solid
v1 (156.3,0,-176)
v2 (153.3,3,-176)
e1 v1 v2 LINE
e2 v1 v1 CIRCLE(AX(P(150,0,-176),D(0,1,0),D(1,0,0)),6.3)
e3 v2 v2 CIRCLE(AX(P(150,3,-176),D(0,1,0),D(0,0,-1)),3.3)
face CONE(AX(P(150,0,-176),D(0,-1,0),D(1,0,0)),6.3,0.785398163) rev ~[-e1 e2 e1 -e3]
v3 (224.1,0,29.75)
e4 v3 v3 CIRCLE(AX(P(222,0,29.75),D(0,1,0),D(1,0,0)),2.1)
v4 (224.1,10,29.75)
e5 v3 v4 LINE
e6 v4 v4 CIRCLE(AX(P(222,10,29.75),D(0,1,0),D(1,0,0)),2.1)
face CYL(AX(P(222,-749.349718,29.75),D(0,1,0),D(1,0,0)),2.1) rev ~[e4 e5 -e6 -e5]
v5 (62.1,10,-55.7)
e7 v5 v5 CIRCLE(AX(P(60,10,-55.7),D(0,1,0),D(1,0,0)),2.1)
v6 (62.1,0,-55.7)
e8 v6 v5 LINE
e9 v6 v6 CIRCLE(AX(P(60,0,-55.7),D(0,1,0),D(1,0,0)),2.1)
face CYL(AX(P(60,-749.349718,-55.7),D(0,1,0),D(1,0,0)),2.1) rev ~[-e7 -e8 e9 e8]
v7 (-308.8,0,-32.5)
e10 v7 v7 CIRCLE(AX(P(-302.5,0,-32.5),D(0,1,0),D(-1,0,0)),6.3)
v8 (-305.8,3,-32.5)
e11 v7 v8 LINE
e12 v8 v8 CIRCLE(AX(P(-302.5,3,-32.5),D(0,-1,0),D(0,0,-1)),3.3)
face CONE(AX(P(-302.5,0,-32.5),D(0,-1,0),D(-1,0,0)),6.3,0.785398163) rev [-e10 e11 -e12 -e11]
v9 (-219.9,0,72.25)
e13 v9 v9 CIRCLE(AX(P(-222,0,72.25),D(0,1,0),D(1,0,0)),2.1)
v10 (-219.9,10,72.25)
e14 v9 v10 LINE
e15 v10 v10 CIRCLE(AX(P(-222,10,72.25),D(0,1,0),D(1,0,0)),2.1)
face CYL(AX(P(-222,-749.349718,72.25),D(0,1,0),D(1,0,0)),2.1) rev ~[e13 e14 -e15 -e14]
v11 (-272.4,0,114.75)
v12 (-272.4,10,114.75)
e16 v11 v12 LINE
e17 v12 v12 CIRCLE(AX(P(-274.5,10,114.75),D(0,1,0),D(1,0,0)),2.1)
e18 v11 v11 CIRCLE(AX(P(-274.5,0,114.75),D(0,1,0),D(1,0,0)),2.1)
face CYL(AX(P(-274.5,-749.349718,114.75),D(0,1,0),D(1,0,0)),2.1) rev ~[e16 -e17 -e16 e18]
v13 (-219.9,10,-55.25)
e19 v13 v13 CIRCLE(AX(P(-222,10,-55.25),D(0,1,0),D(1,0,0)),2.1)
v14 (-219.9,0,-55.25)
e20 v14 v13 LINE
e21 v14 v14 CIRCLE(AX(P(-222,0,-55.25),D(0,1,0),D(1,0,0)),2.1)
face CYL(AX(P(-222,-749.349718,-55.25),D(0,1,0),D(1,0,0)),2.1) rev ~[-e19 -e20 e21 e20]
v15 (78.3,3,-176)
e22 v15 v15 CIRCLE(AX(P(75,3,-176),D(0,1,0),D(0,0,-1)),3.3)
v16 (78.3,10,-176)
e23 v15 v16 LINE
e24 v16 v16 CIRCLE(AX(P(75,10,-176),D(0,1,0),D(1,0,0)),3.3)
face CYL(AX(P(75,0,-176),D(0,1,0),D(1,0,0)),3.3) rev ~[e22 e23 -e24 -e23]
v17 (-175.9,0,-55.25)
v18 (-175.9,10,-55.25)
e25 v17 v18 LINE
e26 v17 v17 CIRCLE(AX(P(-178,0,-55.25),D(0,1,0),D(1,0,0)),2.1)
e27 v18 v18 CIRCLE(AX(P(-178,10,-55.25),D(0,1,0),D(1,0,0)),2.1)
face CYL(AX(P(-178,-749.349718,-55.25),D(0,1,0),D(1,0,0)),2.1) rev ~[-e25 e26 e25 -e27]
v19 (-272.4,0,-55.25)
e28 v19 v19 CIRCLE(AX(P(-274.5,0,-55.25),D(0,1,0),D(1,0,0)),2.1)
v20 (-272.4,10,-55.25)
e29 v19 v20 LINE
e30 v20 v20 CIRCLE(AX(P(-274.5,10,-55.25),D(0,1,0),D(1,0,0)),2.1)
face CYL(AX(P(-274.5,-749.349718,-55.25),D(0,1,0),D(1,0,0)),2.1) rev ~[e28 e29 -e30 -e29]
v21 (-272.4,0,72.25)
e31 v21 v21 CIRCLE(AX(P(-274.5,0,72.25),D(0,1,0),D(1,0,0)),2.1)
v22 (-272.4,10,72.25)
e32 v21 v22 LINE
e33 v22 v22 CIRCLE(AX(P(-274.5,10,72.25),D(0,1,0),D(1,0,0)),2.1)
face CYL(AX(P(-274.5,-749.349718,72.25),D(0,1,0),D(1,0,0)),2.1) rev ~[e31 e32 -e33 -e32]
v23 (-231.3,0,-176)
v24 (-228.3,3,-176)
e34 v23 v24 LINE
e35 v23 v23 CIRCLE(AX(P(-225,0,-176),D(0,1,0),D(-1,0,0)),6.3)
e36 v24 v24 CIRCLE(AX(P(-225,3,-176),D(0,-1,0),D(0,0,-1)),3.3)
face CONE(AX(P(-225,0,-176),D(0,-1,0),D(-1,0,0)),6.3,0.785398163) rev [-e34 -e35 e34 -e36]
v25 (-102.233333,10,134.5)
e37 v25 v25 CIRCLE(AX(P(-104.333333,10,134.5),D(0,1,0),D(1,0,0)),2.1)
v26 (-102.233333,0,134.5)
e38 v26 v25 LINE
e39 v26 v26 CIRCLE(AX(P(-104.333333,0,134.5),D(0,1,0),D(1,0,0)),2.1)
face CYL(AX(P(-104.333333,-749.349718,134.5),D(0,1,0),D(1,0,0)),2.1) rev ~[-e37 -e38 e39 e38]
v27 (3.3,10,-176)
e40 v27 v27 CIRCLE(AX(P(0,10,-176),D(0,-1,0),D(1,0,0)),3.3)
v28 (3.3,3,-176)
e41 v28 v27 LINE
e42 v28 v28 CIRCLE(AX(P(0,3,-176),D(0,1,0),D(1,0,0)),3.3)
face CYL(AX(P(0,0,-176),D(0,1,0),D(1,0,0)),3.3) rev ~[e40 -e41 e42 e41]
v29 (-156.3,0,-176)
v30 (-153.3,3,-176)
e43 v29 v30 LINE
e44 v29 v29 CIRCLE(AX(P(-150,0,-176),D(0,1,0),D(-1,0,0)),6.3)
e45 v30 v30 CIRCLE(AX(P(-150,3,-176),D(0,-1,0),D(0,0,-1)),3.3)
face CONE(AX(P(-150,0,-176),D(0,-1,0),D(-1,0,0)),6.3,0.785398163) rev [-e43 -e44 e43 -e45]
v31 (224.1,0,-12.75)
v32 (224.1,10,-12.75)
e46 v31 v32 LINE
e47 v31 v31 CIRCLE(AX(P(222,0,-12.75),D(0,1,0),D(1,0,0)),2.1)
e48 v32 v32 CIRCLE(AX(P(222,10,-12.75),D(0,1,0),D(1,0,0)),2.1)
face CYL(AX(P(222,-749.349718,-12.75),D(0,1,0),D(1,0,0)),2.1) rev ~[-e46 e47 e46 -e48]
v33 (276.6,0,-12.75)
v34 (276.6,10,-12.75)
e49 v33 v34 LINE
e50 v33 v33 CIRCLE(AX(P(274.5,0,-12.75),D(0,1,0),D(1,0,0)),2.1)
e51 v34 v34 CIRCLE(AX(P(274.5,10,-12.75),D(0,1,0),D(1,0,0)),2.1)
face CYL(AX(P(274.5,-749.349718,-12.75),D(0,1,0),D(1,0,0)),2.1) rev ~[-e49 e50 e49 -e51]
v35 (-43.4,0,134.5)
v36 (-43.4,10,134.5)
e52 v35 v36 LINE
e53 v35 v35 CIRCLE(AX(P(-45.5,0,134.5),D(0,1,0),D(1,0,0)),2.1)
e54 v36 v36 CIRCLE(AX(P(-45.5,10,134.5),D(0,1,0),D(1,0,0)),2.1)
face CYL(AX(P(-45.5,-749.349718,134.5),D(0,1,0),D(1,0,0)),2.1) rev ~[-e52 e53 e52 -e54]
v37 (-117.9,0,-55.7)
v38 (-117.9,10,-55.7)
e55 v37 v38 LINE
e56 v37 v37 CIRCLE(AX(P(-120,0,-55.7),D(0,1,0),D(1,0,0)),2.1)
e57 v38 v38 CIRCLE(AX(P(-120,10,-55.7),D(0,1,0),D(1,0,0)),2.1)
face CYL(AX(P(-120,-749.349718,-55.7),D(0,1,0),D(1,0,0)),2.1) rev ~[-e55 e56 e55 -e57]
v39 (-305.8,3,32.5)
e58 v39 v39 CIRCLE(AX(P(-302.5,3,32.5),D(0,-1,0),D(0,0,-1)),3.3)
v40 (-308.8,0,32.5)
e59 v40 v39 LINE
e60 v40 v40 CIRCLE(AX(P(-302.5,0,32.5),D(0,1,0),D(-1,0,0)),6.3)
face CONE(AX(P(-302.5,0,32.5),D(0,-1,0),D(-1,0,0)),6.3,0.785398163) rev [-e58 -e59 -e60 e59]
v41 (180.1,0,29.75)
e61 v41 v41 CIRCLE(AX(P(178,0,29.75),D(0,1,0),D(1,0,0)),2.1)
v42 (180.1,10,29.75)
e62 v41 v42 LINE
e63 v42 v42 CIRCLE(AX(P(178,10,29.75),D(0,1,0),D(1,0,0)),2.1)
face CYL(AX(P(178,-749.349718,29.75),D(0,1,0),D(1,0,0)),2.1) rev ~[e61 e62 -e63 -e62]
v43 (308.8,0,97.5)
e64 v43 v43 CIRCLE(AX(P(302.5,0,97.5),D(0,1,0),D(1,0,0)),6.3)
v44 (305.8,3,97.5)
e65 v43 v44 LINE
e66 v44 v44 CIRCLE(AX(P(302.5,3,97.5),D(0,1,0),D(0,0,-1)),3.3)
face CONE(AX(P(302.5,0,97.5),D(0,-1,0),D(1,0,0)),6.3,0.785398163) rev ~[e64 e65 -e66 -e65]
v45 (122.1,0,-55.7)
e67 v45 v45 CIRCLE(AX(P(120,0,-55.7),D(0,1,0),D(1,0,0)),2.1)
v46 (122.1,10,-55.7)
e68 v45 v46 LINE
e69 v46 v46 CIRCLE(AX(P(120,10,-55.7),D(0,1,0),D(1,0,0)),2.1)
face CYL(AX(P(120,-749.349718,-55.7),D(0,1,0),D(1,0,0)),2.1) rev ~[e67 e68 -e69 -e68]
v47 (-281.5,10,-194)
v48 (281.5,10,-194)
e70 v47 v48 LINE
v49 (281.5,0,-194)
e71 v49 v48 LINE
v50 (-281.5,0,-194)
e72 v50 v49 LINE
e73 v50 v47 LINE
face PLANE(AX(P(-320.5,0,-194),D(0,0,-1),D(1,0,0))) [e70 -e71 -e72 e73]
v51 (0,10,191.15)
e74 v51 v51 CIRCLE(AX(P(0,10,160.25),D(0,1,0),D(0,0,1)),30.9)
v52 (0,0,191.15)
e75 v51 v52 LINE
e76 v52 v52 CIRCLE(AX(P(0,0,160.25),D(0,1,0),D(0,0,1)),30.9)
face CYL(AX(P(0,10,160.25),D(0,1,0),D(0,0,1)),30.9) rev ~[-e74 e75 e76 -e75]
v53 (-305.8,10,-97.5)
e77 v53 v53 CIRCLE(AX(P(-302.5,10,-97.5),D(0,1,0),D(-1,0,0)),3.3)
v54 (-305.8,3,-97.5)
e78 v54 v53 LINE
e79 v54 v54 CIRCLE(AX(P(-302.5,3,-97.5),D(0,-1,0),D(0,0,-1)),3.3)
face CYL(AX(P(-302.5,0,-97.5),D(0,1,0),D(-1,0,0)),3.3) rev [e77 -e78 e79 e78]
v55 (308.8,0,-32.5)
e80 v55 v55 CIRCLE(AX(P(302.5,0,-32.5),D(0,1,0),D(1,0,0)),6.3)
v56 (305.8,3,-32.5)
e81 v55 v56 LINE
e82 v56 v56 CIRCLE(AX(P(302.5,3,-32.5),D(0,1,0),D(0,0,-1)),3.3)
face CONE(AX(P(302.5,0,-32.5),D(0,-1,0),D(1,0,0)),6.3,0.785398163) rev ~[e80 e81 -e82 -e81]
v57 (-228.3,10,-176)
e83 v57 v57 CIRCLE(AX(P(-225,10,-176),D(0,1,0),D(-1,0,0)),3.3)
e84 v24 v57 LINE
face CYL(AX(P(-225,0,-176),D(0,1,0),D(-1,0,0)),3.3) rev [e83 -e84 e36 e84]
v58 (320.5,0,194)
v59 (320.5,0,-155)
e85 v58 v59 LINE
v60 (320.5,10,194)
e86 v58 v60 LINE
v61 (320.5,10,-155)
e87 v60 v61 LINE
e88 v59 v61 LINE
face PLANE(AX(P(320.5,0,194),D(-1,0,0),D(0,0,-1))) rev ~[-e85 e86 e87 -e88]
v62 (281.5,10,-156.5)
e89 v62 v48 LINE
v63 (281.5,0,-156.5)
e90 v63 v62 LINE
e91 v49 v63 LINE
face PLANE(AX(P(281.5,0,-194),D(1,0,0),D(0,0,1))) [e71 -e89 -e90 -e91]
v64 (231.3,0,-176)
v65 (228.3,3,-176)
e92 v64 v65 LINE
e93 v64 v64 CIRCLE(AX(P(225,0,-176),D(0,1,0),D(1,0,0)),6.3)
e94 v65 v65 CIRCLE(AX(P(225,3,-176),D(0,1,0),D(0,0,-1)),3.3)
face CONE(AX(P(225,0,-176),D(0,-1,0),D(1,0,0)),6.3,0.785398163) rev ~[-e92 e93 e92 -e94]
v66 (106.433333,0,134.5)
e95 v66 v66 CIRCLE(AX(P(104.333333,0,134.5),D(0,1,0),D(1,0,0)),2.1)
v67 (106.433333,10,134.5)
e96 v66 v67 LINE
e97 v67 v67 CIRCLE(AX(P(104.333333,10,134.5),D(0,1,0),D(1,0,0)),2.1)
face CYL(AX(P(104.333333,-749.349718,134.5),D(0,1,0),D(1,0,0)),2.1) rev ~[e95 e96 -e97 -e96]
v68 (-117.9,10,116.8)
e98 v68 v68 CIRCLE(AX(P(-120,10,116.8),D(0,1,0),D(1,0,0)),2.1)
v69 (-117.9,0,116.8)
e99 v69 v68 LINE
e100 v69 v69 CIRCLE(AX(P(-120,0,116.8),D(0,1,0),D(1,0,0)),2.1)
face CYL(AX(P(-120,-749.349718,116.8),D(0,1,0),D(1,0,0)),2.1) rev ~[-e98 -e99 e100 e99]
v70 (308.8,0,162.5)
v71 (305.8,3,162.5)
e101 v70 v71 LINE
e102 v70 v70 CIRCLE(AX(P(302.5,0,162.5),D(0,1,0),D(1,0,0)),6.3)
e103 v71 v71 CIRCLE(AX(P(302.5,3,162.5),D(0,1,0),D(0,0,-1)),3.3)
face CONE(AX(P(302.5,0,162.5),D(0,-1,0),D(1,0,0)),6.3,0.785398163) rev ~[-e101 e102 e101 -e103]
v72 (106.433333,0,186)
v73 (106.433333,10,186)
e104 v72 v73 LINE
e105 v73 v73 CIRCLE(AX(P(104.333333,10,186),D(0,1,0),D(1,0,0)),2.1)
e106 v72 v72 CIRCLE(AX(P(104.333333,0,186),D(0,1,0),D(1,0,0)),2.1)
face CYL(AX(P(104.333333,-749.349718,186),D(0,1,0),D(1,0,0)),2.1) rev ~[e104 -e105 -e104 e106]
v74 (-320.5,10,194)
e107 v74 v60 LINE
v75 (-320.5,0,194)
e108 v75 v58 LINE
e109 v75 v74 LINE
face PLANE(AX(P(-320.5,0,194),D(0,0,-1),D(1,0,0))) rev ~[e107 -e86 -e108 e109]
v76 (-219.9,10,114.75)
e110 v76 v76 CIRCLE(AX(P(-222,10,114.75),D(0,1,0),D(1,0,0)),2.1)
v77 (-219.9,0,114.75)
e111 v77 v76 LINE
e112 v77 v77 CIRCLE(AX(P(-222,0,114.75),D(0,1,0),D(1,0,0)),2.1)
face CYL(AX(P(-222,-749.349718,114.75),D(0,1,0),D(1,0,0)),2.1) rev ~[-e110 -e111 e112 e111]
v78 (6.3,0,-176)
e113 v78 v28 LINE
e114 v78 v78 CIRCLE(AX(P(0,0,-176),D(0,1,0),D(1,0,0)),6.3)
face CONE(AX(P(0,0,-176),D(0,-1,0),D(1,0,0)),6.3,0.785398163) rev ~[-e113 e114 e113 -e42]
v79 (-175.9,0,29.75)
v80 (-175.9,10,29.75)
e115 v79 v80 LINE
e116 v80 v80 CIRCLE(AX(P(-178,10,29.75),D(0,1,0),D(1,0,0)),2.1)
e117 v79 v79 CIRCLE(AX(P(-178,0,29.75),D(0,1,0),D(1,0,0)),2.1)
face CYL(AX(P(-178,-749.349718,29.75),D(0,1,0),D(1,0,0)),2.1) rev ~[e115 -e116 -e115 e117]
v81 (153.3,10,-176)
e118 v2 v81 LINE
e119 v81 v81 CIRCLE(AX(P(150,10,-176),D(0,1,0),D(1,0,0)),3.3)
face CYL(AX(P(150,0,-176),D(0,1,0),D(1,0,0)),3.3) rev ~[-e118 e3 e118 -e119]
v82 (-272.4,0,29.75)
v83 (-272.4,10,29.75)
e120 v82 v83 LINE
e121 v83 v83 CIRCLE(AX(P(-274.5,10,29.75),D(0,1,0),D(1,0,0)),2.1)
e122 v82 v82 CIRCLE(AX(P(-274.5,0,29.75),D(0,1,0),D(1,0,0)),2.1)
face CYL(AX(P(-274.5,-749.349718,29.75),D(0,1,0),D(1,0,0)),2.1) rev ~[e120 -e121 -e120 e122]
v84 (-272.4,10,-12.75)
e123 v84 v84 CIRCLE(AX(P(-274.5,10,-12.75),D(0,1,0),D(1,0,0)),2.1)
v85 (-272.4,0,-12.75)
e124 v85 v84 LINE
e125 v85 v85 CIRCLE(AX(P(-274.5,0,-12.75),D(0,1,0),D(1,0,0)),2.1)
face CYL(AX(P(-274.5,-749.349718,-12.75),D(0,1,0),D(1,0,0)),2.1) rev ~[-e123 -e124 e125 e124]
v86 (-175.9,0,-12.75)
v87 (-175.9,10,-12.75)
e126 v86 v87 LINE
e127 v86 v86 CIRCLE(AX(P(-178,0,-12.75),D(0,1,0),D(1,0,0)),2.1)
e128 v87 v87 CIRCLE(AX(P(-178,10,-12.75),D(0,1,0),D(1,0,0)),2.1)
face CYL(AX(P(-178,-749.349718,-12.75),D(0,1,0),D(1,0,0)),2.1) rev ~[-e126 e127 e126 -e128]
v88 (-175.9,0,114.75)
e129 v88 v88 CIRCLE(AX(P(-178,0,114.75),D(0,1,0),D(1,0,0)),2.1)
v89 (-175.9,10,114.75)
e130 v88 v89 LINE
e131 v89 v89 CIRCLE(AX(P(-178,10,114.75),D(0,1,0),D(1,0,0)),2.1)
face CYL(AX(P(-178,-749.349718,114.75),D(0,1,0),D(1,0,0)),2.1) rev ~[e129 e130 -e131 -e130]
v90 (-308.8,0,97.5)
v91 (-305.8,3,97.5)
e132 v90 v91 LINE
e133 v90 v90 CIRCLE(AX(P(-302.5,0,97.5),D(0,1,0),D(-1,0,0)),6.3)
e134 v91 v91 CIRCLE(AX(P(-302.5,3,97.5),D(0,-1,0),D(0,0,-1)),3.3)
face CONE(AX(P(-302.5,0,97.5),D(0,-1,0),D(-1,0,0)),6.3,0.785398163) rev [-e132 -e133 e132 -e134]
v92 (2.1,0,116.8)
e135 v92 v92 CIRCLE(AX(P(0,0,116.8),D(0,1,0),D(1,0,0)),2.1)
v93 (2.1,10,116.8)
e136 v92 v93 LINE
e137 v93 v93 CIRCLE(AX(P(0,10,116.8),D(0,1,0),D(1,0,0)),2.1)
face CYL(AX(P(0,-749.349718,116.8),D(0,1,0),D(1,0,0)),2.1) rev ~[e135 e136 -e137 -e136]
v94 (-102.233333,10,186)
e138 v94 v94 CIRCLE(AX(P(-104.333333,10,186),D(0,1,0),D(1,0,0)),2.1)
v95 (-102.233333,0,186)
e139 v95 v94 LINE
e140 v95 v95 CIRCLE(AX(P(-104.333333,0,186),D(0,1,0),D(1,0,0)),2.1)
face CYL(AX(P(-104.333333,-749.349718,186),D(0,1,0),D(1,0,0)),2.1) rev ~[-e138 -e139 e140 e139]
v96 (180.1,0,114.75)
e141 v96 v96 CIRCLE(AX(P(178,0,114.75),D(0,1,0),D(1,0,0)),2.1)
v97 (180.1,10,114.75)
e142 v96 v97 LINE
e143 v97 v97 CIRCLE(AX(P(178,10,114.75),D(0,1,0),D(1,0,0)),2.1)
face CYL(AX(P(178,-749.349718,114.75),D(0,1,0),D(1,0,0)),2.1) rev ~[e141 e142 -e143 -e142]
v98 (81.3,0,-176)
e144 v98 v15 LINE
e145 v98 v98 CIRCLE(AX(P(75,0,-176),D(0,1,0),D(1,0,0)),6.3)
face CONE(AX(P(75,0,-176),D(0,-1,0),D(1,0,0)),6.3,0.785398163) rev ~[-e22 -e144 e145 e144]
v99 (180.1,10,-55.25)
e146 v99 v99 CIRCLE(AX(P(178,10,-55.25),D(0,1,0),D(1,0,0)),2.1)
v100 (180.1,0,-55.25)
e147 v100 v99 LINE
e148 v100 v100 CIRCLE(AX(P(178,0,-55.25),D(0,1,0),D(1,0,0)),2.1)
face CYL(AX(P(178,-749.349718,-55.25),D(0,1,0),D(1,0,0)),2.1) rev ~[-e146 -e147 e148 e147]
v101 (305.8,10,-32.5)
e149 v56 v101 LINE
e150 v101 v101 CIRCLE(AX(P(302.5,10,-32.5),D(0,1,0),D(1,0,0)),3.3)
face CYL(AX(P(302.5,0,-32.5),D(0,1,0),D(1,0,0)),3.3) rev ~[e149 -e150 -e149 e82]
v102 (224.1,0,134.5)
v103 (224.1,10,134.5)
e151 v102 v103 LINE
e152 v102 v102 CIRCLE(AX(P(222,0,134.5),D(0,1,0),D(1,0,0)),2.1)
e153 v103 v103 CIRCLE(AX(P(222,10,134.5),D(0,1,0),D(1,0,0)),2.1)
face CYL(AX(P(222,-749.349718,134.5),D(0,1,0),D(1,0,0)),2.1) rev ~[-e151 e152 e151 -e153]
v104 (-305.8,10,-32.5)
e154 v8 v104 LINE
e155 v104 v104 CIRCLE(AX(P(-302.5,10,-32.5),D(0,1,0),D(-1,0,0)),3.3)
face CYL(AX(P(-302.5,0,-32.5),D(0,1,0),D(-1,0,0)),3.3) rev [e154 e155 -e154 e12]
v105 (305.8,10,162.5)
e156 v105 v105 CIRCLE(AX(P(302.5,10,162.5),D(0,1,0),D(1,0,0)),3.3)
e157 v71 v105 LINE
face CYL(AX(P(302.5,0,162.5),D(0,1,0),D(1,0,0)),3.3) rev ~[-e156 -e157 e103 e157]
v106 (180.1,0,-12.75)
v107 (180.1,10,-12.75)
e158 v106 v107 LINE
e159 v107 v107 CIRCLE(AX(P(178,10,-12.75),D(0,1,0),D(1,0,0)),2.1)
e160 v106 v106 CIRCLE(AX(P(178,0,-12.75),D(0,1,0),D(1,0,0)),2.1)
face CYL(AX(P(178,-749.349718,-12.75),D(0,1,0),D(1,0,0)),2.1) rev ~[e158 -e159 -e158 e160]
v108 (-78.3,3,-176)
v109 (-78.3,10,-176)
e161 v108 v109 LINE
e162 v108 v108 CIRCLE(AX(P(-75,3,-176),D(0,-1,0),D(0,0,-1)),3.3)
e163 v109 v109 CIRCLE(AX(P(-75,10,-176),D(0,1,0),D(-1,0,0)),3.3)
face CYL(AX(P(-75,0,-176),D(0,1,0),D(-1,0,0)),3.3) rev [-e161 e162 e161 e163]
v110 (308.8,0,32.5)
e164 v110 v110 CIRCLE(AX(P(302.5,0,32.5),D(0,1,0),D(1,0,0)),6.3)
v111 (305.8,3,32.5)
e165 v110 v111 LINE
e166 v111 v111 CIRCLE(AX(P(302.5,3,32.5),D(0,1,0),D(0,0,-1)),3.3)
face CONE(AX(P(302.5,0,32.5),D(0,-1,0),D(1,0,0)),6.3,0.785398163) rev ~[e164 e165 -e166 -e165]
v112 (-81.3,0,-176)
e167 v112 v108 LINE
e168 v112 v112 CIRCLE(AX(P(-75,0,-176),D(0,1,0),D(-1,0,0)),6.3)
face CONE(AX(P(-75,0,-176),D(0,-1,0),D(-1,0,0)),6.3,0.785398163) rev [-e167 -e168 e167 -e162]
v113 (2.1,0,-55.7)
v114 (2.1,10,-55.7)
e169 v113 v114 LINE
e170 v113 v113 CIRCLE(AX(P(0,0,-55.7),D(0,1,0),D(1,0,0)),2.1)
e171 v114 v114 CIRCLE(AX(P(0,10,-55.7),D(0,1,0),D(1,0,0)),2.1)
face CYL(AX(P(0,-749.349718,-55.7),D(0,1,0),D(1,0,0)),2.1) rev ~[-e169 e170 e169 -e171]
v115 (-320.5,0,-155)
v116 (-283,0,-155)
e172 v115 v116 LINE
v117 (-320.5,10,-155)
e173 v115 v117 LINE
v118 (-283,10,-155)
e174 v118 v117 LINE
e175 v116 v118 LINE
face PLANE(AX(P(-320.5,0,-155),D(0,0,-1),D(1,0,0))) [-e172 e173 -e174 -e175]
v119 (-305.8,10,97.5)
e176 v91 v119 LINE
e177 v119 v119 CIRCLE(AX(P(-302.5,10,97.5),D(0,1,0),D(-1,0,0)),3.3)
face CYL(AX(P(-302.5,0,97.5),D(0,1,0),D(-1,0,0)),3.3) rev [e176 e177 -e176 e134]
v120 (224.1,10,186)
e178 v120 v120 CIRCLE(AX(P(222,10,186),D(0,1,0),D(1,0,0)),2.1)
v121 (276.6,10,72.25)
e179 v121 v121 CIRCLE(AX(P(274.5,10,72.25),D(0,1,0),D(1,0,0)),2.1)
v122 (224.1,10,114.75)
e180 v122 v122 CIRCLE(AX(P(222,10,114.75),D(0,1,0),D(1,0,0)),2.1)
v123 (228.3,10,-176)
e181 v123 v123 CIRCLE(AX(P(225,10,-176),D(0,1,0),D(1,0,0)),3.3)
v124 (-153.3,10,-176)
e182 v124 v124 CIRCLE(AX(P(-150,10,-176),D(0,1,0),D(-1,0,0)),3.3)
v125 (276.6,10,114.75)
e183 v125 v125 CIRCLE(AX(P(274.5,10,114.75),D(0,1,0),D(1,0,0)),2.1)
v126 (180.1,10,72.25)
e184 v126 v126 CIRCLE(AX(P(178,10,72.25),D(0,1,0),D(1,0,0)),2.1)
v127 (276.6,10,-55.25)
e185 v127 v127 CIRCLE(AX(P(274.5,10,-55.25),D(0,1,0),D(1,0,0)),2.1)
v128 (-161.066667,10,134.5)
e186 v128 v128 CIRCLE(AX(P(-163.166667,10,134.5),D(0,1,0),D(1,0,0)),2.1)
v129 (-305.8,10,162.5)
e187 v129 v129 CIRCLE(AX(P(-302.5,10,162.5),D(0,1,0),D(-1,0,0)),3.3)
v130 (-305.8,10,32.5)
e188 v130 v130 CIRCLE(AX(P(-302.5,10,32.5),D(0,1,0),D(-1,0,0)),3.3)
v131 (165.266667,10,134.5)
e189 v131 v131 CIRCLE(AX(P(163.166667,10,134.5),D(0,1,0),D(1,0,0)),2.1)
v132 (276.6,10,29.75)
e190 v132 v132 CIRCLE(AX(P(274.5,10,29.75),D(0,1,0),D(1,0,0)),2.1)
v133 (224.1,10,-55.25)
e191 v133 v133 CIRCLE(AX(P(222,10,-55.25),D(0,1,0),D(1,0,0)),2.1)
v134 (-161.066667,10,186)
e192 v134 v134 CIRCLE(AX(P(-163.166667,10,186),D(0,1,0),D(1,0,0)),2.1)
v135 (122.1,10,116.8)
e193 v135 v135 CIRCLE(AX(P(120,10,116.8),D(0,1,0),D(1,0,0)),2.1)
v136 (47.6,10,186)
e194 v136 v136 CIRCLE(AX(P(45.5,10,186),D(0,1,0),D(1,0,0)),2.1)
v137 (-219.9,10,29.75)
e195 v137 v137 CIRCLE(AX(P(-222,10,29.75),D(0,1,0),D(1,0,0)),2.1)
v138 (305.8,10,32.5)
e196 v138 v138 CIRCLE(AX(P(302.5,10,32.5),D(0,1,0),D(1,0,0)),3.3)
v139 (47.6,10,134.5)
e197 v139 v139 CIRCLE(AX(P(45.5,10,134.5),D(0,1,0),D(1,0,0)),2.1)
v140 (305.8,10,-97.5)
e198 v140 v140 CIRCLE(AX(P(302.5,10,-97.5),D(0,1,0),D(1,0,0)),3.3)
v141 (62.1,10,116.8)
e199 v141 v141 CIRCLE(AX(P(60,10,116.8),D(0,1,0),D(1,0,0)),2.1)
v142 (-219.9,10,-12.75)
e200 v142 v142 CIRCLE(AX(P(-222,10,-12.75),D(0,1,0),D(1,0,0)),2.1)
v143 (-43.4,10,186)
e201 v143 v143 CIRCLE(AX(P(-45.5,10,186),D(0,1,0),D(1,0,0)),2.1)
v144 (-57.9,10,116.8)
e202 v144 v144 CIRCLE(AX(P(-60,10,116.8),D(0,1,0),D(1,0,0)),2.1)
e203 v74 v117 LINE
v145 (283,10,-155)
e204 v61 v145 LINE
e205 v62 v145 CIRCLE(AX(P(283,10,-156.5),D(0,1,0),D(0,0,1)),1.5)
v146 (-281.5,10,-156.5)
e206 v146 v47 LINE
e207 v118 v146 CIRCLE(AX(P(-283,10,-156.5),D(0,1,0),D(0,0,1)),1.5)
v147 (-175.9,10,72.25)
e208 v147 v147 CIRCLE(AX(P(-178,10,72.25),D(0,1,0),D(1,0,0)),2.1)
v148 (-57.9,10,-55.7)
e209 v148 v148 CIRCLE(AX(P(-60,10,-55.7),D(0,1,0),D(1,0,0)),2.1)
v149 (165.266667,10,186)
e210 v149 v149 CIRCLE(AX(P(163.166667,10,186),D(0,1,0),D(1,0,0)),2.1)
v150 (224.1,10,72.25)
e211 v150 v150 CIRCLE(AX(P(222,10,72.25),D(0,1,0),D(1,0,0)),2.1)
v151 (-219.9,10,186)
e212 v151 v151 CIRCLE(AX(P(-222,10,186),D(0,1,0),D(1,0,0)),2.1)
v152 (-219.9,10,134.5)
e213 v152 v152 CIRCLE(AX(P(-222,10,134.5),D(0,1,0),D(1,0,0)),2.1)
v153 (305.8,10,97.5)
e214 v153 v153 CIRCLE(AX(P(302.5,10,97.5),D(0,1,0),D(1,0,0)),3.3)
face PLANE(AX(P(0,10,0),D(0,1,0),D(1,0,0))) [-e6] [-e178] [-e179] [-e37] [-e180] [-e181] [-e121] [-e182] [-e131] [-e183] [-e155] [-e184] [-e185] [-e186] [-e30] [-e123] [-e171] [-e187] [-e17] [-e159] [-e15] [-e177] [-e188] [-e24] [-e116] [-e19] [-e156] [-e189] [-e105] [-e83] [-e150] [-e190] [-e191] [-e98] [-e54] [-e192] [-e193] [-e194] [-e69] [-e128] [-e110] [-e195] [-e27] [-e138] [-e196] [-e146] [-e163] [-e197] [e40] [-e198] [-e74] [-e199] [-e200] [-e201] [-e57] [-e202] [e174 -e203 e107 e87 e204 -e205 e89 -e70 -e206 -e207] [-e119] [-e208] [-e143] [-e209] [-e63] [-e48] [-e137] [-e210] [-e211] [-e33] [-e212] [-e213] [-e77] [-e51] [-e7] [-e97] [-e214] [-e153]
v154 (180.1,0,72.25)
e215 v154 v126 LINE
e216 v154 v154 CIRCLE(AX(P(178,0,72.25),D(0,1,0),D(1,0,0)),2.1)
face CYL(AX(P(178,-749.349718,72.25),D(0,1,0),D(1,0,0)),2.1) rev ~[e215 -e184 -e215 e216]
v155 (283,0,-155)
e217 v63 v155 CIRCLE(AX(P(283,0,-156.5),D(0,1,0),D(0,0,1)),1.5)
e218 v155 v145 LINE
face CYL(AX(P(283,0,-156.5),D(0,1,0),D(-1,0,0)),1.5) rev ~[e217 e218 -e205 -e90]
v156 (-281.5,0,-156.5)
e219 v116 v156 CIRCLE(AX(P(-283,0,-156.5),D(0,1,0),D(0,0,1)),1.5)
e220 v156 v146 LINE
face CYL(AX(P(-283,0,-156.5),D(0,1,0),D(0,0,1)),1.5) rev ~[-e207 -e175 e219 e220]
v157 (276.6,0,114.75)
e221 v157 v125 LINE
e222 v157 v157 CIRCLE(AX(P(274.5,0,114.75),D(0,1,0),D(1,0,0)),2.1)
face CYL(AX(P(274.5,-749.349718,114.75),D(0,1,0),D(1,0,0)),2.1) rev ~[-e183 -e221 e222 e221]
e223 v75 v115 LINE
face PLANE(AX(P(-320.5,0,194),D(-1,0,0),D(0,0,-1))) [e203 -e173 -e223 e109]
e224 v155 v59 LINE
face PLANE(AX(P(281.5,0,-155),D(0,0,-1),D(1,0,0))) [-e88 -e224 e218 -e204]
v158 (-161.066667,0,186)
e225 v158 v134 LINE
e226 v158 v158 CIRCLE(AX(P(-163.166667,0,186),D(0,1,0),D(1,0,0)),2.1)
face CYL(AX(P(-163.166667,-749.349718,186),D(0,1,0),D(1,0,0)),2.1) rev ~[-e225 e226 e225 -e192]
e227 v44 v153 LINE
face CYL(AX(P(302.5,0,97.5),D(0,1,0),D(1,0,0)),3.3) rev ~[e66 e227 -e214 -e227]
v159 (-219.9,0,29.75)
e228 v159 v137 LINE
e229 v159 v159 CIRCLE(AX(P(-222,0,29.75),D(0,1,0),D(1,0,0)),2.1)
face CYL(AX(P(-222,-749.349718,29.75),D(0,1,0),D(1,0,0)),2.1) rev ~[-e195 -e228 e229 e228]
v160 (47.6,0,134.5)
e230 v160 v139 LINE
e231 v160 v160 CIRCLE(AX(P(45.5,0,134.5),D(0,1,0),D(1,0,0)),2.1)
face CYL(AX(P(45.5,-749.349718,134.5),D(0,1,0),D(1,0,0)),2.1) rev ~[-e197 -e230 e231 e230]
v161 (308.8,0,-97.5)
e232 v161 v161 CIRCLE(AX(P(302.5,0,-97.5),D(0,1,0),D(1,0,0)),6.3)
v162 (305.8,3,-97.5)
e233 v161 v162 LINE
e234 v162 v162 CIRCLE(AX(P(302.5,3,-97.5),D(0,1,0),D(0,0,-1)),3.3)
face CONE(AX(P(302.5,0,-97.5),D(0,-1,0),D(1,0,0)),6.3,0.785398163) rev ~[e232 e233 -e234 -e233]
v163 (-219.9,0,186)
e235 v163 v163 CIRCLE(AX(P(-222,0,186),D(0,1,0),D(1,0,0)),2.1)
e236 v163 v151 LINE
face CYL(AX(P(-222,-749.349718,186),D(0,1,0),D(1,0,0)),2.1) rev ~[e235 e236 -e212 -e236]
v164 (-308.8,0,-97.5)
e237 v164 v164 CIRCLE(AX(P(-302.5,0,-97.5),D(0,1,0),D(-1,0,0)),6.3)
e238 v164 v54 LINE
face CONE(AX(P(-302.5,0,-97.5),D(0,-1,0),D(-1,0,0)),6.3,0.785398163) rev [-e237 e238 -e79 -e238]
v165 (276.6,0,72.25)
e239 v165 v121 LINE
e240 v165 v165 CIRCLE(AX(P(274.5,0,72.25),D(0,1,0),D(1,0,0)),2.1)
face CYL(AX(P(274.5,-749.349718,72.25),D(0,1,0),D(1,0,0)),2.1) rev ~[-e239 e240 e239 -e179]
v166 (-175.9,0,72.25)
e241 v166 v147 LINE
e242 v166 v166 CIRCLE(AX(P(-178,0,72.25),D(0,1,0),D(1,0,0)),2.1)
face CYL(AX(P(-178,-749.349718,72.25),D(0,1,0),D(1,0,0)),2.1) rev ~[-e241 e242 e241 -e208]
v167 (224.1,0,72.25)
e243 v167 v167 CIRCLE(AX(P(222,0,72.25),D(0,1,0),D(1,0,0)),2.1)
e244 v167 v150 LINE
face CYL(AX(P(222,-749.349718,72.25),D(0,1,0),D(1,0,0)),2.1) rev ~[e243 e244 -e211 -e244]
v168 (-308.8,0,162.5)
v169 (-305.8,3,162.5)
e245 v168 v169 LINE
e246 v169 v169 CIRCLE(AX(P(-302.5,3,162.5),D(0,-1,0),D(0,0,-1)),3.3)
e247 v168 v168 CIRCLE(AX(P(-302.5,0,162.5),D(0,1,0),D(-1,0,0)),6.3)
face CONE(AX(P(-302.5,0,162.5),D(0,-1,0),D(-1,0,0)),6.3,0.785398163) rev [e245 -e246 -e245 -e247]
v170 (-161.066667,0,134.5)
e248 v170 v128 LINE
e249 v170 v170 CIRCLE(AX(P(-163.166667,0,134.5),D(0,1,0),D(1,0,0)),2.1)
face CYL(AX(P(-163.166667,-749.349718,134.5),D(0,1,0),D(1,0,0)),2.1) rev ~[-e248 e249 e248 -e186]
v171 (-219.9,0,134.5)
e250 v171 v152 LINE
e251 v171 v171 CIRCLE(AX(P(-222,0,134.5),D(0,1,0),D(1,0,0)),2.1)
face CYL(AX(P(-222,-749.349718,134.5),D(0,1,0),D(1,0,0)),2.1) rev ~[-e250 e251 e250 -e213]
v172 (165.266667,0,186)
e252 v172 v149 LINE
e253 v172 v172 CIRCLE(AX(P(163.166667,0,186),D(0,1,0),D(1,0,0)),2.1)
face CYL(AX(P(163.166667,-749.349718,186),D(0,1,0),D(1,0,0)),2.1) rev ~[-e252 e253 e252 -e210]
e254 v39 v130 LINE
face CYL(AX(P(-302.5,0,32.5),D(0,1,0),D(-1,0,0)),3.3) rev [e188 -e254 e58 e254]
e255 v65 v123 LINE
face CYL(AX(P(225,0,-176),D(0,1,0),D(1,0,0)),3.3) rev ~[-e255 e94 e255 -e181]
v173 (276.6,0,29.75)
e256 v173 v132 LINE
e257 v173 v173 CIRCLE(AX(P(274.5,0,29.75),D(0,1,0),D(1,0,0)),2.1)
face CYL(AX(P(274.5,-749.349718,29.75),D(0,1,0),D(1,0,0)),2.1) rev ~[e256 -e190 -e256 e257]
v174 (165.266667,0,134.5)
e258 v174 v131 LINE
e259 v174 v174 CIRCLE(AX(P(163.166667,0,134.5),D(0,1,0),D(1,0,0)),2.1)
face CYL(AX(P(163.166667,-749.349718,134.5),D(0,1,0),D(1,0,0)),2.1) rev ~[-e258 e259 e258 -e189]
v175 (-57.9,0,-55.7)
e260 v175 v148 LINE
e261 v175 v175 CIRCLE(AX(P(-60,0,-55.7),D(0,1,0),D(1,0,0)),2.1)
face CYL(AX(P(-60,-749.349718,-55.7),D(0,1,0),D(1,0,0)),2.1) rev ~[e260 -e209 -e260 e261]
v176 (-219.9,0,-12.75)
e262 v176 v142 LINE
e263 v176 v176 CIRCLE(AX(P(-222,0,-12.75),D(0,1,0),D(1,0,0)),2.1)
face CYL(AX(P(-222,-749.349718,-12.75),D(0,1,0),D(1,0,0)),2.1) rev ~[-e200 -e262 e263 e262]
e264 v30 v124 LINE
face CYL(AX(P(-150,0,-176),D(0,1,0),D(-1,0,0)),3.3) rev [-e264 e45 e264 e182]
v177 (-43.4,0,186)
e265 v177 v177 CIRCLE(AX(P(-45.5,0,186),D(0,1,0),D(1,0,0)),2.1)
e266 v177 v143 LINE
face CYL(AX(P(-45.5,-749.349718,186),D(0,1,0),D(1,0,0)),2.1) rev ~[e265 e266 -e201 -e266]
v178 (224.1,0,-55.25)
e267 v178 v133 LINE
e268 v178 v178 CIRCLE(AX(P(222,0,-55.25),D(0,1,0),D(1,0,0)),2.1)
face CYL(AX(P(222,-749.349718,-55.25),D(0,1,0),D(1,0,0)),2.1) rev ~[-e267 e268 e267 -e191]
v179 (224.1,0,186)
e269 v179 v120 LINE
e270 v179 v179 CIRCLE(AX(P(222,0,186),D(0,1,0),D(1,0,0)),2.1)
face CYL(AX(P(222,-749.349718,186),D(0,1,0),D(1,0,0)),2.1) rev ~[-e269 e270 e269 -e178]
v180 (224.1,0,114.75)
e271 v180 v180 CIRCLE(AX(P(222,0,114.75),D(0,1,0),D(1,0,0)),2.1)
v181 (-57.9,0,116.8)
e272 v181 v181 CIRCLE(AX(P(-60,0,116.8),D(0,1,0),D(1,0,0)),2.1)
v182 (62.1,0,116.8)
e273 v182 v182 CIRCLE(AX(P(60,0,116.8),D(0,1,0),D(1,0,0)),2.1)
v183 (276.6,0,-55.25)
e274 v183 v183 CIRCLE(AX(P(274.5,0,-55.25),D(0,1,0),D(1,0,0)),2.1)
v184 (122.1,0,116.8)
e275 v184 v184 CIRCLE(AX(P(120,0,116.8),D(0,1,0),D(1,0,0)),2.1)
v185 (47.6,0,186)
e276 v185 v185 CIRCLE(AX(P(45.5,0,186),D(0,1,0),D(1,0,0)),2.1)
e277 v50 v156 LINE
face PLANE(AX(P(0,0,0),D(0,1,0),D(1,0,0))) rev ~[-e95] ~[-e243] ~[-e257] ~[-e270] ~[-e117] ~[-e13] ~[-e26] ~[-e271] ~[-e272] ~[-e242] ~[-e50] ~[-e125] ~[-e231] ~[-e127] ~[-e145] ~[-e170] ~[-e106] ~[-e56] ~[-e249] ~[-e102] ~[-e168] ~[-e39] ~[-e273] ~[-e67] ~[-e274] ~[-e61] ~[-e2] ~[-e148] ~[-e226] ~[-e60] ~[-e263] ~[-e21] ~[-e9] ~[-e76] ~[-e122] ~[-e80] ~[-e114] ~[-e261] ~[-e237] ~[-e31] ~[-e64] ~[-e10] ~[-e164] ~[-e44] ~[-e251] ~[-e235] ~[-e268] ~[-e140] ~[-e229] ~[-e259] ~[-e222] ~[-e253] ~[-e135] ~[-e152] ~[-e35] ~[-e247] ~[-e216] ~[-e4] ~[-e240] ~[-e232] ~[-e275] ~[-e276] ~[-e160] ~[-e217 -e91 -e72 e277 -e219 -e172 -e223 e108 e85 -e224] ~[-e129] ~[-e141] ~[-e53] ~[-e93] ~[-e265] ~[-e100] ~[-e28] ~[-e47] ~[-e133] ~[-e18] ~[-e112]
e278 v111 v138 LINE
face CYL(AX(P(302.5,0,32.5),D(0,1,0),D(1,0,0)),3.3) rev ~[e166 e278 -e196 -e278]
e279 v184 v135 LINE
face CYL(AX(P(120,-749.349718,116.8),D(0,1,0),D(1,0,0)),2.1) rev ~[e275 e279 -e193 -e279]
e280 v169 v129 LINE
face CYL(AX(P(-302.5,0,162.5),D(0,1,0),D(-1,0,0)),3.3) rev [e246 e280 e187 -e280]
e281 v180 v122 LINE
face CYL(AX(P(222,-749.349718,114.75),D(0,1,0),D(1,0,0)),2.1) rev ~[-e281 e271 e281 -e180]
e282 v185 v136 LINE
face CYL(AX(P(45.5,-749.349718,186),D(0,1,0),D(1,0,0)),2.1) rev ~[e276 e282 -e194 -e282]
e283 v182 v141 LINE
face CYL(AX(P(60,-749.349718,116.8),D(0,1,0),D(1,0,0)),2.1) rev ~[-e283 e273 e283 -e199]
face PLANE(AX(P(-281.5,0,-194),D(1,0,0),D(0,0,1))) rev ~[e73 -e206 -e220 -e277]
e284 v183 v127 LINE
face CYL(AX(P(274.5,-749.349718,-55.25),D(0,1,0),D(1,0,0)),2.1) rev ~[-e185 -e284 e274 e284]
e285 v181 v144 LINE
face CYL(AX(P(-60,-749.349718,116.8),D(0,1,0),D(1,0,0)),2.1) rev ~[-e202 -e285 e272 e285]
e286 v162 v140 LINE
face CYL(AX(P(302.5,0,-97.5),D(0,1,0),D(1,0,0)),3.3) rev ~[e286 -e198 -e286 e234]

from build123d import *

# Parameters (mm, degrees)
SKETCH_1_W                 = 641
SKETCH_1_H                 = 388
EXTRUDE_799_DEPTH          = 10
HOLE_WIZARD_M6_D           = 6.6
HOLE_WIZARD_M6_CSINK_D     = 12.6
HOLE_WIZARD_M6_CSINK_ANGLE = 90
SKETCH_4_W                 = 39
SKETCH_4_H                 = 39
CUT_EXTRUDE_2231_DEPTH     = 375.774932459
FILLET_1_R                 = 1.5
HOLE_WIZARD_M5_D           = 4.2
SKETCH_8_R                 = 30.9
CUT_EXTRUDE_8917_DEPTH     = 375.774932459


with BuildPart() as part:
    # Эскиз1 → Extrude 799 (new body)
    with BuildSketch(Plane(origin=(0, 0, 0), x_dir=(1, 0, 0), z_dir=(0, 1, 0))):
        Rectangle(SKETCH_1_W, SKETCH_1_H)
    extrude(amount=EXTRUDE_799_DEPTH)

    # Винты M6 (through all)
    with Locations(Plane(origin=(0, 0, 0), x_dir=(-1, 0, 0), z_dir=(0, -1, 0))):
        with Locations((-302.5, -97.5), (-302.5, -32.5), (-302.5, 32.5), (-302.5, 97.5), (0, 176), (-75, 176), (-150, 176), (-225, 176), (-302.5, -162.5)):
            hole_wizard_m6 = CounterSinkHole(HOLE_WIZARD_M6_D / 2, HOLE_WIZARD_M6_CSINK_D / 2, counter_sink_angle=HOLE_WIZARD_M6_CSINK_ANGLE)

    # Зеркальное отражение1: Винты M6 across plane
    add(hole_wizard_m6.mirror(Plane(origin=(0, 0, 0), x_dir=(0, 0, 1), z_dir=(1, 0, 0))), mode=Mode.SUBTRACT)

    # Эскиз4 → Cut-Extrude 2231 (cut, through all)
    with BuildSketch(Plane.XZ):
        with Locations((-301, -174.5)):
            Rectangle(SKETCH_4_W, SKETCH_4_H)
        with Locations((301, -174.5)):
            Rectangle(SKETCH_4_W, SKETCH_4_H)
    extrude(amount=-CUT_EXTRUDE_2231_DEPTH, mode=Mode.SUBTRACT)

    # Скругление1
    fillet_1_edges = [part.edges().sort_by_distance(p)[0] for p in [
        (-281.5, 5, -155),
        (281.5, 5, -155),
    ]]
    fillet(fillet_1_edges, radius=FILLET_1_R)

    # M5 (through all)
    with Locations(Plane(origin=(0, 0, 0), x_dir=(-1, 0, 0), z_dir=(0, -1, 0))):
        with Locations((0, 55.7), (-60, 55.7), (-120, 55.7), (60, 55.7), (120, 55.7), (120, -116.8), (60, -116.8), (0, -116.8), (-60, -116.8), (-120, -116.8), (274.5, -114.75), (274.5, -29.75), (274.5, 55.25), (274.5, 12.75), (274.5, -72.25), (-274.5, 55.25), (-274.5, 12.75), (-274.5, -29.75), (-274.5, -72.25), (-274.5, -114.75), (222, 55.25), (178, 55.25), (222, 12.75), (178, 12.75), (222, -29.75), (178, -29.75), (222, -72.25), (178, -72.25), (178, -114.75), (222, -114.75), (-222, 55.25), (-178, 55.25), (-178, 12.75), (-222, 12.75), (-222, -29.75), (-178, -29.75), (-178, -72.25), (-222, -72.25), (-222, -114.75), (-178, -114.75), (222, -134.5), (222, -186), (163.166666667, -134.5), (104.333333333, -134.5), (45.5, -134.5), (45.5, -186), (104.333333333, -186), (163.166666667, -186), (-45.5, -134.5), (-104.333333333, -134.5), (-163.166666667, -134.5), (-222, -134.5), (-222, -186), (-163.166666667, -186), (-104.333333333, -186), (-45.5, -186)):
            Hole(HOLE_WIZARD_M5_D / 2)

    # Эскиз8 → Cut-Extrude 8917 (cut, through all)
    with BuildSketch(Plane(origin=(0, 10, 0), x_dir=(1, 0, 0), z_dir=(0, 1, 0))):
        with Locations(Location((0, -160.25, 0), (0, 0, 270))):
            Circle(SKETCH_8_R)
    extrude(amount=-CUT_EXTRUDE_8917_DEPTH, mode=Mode.SUBTRACT)


solid = part.part
